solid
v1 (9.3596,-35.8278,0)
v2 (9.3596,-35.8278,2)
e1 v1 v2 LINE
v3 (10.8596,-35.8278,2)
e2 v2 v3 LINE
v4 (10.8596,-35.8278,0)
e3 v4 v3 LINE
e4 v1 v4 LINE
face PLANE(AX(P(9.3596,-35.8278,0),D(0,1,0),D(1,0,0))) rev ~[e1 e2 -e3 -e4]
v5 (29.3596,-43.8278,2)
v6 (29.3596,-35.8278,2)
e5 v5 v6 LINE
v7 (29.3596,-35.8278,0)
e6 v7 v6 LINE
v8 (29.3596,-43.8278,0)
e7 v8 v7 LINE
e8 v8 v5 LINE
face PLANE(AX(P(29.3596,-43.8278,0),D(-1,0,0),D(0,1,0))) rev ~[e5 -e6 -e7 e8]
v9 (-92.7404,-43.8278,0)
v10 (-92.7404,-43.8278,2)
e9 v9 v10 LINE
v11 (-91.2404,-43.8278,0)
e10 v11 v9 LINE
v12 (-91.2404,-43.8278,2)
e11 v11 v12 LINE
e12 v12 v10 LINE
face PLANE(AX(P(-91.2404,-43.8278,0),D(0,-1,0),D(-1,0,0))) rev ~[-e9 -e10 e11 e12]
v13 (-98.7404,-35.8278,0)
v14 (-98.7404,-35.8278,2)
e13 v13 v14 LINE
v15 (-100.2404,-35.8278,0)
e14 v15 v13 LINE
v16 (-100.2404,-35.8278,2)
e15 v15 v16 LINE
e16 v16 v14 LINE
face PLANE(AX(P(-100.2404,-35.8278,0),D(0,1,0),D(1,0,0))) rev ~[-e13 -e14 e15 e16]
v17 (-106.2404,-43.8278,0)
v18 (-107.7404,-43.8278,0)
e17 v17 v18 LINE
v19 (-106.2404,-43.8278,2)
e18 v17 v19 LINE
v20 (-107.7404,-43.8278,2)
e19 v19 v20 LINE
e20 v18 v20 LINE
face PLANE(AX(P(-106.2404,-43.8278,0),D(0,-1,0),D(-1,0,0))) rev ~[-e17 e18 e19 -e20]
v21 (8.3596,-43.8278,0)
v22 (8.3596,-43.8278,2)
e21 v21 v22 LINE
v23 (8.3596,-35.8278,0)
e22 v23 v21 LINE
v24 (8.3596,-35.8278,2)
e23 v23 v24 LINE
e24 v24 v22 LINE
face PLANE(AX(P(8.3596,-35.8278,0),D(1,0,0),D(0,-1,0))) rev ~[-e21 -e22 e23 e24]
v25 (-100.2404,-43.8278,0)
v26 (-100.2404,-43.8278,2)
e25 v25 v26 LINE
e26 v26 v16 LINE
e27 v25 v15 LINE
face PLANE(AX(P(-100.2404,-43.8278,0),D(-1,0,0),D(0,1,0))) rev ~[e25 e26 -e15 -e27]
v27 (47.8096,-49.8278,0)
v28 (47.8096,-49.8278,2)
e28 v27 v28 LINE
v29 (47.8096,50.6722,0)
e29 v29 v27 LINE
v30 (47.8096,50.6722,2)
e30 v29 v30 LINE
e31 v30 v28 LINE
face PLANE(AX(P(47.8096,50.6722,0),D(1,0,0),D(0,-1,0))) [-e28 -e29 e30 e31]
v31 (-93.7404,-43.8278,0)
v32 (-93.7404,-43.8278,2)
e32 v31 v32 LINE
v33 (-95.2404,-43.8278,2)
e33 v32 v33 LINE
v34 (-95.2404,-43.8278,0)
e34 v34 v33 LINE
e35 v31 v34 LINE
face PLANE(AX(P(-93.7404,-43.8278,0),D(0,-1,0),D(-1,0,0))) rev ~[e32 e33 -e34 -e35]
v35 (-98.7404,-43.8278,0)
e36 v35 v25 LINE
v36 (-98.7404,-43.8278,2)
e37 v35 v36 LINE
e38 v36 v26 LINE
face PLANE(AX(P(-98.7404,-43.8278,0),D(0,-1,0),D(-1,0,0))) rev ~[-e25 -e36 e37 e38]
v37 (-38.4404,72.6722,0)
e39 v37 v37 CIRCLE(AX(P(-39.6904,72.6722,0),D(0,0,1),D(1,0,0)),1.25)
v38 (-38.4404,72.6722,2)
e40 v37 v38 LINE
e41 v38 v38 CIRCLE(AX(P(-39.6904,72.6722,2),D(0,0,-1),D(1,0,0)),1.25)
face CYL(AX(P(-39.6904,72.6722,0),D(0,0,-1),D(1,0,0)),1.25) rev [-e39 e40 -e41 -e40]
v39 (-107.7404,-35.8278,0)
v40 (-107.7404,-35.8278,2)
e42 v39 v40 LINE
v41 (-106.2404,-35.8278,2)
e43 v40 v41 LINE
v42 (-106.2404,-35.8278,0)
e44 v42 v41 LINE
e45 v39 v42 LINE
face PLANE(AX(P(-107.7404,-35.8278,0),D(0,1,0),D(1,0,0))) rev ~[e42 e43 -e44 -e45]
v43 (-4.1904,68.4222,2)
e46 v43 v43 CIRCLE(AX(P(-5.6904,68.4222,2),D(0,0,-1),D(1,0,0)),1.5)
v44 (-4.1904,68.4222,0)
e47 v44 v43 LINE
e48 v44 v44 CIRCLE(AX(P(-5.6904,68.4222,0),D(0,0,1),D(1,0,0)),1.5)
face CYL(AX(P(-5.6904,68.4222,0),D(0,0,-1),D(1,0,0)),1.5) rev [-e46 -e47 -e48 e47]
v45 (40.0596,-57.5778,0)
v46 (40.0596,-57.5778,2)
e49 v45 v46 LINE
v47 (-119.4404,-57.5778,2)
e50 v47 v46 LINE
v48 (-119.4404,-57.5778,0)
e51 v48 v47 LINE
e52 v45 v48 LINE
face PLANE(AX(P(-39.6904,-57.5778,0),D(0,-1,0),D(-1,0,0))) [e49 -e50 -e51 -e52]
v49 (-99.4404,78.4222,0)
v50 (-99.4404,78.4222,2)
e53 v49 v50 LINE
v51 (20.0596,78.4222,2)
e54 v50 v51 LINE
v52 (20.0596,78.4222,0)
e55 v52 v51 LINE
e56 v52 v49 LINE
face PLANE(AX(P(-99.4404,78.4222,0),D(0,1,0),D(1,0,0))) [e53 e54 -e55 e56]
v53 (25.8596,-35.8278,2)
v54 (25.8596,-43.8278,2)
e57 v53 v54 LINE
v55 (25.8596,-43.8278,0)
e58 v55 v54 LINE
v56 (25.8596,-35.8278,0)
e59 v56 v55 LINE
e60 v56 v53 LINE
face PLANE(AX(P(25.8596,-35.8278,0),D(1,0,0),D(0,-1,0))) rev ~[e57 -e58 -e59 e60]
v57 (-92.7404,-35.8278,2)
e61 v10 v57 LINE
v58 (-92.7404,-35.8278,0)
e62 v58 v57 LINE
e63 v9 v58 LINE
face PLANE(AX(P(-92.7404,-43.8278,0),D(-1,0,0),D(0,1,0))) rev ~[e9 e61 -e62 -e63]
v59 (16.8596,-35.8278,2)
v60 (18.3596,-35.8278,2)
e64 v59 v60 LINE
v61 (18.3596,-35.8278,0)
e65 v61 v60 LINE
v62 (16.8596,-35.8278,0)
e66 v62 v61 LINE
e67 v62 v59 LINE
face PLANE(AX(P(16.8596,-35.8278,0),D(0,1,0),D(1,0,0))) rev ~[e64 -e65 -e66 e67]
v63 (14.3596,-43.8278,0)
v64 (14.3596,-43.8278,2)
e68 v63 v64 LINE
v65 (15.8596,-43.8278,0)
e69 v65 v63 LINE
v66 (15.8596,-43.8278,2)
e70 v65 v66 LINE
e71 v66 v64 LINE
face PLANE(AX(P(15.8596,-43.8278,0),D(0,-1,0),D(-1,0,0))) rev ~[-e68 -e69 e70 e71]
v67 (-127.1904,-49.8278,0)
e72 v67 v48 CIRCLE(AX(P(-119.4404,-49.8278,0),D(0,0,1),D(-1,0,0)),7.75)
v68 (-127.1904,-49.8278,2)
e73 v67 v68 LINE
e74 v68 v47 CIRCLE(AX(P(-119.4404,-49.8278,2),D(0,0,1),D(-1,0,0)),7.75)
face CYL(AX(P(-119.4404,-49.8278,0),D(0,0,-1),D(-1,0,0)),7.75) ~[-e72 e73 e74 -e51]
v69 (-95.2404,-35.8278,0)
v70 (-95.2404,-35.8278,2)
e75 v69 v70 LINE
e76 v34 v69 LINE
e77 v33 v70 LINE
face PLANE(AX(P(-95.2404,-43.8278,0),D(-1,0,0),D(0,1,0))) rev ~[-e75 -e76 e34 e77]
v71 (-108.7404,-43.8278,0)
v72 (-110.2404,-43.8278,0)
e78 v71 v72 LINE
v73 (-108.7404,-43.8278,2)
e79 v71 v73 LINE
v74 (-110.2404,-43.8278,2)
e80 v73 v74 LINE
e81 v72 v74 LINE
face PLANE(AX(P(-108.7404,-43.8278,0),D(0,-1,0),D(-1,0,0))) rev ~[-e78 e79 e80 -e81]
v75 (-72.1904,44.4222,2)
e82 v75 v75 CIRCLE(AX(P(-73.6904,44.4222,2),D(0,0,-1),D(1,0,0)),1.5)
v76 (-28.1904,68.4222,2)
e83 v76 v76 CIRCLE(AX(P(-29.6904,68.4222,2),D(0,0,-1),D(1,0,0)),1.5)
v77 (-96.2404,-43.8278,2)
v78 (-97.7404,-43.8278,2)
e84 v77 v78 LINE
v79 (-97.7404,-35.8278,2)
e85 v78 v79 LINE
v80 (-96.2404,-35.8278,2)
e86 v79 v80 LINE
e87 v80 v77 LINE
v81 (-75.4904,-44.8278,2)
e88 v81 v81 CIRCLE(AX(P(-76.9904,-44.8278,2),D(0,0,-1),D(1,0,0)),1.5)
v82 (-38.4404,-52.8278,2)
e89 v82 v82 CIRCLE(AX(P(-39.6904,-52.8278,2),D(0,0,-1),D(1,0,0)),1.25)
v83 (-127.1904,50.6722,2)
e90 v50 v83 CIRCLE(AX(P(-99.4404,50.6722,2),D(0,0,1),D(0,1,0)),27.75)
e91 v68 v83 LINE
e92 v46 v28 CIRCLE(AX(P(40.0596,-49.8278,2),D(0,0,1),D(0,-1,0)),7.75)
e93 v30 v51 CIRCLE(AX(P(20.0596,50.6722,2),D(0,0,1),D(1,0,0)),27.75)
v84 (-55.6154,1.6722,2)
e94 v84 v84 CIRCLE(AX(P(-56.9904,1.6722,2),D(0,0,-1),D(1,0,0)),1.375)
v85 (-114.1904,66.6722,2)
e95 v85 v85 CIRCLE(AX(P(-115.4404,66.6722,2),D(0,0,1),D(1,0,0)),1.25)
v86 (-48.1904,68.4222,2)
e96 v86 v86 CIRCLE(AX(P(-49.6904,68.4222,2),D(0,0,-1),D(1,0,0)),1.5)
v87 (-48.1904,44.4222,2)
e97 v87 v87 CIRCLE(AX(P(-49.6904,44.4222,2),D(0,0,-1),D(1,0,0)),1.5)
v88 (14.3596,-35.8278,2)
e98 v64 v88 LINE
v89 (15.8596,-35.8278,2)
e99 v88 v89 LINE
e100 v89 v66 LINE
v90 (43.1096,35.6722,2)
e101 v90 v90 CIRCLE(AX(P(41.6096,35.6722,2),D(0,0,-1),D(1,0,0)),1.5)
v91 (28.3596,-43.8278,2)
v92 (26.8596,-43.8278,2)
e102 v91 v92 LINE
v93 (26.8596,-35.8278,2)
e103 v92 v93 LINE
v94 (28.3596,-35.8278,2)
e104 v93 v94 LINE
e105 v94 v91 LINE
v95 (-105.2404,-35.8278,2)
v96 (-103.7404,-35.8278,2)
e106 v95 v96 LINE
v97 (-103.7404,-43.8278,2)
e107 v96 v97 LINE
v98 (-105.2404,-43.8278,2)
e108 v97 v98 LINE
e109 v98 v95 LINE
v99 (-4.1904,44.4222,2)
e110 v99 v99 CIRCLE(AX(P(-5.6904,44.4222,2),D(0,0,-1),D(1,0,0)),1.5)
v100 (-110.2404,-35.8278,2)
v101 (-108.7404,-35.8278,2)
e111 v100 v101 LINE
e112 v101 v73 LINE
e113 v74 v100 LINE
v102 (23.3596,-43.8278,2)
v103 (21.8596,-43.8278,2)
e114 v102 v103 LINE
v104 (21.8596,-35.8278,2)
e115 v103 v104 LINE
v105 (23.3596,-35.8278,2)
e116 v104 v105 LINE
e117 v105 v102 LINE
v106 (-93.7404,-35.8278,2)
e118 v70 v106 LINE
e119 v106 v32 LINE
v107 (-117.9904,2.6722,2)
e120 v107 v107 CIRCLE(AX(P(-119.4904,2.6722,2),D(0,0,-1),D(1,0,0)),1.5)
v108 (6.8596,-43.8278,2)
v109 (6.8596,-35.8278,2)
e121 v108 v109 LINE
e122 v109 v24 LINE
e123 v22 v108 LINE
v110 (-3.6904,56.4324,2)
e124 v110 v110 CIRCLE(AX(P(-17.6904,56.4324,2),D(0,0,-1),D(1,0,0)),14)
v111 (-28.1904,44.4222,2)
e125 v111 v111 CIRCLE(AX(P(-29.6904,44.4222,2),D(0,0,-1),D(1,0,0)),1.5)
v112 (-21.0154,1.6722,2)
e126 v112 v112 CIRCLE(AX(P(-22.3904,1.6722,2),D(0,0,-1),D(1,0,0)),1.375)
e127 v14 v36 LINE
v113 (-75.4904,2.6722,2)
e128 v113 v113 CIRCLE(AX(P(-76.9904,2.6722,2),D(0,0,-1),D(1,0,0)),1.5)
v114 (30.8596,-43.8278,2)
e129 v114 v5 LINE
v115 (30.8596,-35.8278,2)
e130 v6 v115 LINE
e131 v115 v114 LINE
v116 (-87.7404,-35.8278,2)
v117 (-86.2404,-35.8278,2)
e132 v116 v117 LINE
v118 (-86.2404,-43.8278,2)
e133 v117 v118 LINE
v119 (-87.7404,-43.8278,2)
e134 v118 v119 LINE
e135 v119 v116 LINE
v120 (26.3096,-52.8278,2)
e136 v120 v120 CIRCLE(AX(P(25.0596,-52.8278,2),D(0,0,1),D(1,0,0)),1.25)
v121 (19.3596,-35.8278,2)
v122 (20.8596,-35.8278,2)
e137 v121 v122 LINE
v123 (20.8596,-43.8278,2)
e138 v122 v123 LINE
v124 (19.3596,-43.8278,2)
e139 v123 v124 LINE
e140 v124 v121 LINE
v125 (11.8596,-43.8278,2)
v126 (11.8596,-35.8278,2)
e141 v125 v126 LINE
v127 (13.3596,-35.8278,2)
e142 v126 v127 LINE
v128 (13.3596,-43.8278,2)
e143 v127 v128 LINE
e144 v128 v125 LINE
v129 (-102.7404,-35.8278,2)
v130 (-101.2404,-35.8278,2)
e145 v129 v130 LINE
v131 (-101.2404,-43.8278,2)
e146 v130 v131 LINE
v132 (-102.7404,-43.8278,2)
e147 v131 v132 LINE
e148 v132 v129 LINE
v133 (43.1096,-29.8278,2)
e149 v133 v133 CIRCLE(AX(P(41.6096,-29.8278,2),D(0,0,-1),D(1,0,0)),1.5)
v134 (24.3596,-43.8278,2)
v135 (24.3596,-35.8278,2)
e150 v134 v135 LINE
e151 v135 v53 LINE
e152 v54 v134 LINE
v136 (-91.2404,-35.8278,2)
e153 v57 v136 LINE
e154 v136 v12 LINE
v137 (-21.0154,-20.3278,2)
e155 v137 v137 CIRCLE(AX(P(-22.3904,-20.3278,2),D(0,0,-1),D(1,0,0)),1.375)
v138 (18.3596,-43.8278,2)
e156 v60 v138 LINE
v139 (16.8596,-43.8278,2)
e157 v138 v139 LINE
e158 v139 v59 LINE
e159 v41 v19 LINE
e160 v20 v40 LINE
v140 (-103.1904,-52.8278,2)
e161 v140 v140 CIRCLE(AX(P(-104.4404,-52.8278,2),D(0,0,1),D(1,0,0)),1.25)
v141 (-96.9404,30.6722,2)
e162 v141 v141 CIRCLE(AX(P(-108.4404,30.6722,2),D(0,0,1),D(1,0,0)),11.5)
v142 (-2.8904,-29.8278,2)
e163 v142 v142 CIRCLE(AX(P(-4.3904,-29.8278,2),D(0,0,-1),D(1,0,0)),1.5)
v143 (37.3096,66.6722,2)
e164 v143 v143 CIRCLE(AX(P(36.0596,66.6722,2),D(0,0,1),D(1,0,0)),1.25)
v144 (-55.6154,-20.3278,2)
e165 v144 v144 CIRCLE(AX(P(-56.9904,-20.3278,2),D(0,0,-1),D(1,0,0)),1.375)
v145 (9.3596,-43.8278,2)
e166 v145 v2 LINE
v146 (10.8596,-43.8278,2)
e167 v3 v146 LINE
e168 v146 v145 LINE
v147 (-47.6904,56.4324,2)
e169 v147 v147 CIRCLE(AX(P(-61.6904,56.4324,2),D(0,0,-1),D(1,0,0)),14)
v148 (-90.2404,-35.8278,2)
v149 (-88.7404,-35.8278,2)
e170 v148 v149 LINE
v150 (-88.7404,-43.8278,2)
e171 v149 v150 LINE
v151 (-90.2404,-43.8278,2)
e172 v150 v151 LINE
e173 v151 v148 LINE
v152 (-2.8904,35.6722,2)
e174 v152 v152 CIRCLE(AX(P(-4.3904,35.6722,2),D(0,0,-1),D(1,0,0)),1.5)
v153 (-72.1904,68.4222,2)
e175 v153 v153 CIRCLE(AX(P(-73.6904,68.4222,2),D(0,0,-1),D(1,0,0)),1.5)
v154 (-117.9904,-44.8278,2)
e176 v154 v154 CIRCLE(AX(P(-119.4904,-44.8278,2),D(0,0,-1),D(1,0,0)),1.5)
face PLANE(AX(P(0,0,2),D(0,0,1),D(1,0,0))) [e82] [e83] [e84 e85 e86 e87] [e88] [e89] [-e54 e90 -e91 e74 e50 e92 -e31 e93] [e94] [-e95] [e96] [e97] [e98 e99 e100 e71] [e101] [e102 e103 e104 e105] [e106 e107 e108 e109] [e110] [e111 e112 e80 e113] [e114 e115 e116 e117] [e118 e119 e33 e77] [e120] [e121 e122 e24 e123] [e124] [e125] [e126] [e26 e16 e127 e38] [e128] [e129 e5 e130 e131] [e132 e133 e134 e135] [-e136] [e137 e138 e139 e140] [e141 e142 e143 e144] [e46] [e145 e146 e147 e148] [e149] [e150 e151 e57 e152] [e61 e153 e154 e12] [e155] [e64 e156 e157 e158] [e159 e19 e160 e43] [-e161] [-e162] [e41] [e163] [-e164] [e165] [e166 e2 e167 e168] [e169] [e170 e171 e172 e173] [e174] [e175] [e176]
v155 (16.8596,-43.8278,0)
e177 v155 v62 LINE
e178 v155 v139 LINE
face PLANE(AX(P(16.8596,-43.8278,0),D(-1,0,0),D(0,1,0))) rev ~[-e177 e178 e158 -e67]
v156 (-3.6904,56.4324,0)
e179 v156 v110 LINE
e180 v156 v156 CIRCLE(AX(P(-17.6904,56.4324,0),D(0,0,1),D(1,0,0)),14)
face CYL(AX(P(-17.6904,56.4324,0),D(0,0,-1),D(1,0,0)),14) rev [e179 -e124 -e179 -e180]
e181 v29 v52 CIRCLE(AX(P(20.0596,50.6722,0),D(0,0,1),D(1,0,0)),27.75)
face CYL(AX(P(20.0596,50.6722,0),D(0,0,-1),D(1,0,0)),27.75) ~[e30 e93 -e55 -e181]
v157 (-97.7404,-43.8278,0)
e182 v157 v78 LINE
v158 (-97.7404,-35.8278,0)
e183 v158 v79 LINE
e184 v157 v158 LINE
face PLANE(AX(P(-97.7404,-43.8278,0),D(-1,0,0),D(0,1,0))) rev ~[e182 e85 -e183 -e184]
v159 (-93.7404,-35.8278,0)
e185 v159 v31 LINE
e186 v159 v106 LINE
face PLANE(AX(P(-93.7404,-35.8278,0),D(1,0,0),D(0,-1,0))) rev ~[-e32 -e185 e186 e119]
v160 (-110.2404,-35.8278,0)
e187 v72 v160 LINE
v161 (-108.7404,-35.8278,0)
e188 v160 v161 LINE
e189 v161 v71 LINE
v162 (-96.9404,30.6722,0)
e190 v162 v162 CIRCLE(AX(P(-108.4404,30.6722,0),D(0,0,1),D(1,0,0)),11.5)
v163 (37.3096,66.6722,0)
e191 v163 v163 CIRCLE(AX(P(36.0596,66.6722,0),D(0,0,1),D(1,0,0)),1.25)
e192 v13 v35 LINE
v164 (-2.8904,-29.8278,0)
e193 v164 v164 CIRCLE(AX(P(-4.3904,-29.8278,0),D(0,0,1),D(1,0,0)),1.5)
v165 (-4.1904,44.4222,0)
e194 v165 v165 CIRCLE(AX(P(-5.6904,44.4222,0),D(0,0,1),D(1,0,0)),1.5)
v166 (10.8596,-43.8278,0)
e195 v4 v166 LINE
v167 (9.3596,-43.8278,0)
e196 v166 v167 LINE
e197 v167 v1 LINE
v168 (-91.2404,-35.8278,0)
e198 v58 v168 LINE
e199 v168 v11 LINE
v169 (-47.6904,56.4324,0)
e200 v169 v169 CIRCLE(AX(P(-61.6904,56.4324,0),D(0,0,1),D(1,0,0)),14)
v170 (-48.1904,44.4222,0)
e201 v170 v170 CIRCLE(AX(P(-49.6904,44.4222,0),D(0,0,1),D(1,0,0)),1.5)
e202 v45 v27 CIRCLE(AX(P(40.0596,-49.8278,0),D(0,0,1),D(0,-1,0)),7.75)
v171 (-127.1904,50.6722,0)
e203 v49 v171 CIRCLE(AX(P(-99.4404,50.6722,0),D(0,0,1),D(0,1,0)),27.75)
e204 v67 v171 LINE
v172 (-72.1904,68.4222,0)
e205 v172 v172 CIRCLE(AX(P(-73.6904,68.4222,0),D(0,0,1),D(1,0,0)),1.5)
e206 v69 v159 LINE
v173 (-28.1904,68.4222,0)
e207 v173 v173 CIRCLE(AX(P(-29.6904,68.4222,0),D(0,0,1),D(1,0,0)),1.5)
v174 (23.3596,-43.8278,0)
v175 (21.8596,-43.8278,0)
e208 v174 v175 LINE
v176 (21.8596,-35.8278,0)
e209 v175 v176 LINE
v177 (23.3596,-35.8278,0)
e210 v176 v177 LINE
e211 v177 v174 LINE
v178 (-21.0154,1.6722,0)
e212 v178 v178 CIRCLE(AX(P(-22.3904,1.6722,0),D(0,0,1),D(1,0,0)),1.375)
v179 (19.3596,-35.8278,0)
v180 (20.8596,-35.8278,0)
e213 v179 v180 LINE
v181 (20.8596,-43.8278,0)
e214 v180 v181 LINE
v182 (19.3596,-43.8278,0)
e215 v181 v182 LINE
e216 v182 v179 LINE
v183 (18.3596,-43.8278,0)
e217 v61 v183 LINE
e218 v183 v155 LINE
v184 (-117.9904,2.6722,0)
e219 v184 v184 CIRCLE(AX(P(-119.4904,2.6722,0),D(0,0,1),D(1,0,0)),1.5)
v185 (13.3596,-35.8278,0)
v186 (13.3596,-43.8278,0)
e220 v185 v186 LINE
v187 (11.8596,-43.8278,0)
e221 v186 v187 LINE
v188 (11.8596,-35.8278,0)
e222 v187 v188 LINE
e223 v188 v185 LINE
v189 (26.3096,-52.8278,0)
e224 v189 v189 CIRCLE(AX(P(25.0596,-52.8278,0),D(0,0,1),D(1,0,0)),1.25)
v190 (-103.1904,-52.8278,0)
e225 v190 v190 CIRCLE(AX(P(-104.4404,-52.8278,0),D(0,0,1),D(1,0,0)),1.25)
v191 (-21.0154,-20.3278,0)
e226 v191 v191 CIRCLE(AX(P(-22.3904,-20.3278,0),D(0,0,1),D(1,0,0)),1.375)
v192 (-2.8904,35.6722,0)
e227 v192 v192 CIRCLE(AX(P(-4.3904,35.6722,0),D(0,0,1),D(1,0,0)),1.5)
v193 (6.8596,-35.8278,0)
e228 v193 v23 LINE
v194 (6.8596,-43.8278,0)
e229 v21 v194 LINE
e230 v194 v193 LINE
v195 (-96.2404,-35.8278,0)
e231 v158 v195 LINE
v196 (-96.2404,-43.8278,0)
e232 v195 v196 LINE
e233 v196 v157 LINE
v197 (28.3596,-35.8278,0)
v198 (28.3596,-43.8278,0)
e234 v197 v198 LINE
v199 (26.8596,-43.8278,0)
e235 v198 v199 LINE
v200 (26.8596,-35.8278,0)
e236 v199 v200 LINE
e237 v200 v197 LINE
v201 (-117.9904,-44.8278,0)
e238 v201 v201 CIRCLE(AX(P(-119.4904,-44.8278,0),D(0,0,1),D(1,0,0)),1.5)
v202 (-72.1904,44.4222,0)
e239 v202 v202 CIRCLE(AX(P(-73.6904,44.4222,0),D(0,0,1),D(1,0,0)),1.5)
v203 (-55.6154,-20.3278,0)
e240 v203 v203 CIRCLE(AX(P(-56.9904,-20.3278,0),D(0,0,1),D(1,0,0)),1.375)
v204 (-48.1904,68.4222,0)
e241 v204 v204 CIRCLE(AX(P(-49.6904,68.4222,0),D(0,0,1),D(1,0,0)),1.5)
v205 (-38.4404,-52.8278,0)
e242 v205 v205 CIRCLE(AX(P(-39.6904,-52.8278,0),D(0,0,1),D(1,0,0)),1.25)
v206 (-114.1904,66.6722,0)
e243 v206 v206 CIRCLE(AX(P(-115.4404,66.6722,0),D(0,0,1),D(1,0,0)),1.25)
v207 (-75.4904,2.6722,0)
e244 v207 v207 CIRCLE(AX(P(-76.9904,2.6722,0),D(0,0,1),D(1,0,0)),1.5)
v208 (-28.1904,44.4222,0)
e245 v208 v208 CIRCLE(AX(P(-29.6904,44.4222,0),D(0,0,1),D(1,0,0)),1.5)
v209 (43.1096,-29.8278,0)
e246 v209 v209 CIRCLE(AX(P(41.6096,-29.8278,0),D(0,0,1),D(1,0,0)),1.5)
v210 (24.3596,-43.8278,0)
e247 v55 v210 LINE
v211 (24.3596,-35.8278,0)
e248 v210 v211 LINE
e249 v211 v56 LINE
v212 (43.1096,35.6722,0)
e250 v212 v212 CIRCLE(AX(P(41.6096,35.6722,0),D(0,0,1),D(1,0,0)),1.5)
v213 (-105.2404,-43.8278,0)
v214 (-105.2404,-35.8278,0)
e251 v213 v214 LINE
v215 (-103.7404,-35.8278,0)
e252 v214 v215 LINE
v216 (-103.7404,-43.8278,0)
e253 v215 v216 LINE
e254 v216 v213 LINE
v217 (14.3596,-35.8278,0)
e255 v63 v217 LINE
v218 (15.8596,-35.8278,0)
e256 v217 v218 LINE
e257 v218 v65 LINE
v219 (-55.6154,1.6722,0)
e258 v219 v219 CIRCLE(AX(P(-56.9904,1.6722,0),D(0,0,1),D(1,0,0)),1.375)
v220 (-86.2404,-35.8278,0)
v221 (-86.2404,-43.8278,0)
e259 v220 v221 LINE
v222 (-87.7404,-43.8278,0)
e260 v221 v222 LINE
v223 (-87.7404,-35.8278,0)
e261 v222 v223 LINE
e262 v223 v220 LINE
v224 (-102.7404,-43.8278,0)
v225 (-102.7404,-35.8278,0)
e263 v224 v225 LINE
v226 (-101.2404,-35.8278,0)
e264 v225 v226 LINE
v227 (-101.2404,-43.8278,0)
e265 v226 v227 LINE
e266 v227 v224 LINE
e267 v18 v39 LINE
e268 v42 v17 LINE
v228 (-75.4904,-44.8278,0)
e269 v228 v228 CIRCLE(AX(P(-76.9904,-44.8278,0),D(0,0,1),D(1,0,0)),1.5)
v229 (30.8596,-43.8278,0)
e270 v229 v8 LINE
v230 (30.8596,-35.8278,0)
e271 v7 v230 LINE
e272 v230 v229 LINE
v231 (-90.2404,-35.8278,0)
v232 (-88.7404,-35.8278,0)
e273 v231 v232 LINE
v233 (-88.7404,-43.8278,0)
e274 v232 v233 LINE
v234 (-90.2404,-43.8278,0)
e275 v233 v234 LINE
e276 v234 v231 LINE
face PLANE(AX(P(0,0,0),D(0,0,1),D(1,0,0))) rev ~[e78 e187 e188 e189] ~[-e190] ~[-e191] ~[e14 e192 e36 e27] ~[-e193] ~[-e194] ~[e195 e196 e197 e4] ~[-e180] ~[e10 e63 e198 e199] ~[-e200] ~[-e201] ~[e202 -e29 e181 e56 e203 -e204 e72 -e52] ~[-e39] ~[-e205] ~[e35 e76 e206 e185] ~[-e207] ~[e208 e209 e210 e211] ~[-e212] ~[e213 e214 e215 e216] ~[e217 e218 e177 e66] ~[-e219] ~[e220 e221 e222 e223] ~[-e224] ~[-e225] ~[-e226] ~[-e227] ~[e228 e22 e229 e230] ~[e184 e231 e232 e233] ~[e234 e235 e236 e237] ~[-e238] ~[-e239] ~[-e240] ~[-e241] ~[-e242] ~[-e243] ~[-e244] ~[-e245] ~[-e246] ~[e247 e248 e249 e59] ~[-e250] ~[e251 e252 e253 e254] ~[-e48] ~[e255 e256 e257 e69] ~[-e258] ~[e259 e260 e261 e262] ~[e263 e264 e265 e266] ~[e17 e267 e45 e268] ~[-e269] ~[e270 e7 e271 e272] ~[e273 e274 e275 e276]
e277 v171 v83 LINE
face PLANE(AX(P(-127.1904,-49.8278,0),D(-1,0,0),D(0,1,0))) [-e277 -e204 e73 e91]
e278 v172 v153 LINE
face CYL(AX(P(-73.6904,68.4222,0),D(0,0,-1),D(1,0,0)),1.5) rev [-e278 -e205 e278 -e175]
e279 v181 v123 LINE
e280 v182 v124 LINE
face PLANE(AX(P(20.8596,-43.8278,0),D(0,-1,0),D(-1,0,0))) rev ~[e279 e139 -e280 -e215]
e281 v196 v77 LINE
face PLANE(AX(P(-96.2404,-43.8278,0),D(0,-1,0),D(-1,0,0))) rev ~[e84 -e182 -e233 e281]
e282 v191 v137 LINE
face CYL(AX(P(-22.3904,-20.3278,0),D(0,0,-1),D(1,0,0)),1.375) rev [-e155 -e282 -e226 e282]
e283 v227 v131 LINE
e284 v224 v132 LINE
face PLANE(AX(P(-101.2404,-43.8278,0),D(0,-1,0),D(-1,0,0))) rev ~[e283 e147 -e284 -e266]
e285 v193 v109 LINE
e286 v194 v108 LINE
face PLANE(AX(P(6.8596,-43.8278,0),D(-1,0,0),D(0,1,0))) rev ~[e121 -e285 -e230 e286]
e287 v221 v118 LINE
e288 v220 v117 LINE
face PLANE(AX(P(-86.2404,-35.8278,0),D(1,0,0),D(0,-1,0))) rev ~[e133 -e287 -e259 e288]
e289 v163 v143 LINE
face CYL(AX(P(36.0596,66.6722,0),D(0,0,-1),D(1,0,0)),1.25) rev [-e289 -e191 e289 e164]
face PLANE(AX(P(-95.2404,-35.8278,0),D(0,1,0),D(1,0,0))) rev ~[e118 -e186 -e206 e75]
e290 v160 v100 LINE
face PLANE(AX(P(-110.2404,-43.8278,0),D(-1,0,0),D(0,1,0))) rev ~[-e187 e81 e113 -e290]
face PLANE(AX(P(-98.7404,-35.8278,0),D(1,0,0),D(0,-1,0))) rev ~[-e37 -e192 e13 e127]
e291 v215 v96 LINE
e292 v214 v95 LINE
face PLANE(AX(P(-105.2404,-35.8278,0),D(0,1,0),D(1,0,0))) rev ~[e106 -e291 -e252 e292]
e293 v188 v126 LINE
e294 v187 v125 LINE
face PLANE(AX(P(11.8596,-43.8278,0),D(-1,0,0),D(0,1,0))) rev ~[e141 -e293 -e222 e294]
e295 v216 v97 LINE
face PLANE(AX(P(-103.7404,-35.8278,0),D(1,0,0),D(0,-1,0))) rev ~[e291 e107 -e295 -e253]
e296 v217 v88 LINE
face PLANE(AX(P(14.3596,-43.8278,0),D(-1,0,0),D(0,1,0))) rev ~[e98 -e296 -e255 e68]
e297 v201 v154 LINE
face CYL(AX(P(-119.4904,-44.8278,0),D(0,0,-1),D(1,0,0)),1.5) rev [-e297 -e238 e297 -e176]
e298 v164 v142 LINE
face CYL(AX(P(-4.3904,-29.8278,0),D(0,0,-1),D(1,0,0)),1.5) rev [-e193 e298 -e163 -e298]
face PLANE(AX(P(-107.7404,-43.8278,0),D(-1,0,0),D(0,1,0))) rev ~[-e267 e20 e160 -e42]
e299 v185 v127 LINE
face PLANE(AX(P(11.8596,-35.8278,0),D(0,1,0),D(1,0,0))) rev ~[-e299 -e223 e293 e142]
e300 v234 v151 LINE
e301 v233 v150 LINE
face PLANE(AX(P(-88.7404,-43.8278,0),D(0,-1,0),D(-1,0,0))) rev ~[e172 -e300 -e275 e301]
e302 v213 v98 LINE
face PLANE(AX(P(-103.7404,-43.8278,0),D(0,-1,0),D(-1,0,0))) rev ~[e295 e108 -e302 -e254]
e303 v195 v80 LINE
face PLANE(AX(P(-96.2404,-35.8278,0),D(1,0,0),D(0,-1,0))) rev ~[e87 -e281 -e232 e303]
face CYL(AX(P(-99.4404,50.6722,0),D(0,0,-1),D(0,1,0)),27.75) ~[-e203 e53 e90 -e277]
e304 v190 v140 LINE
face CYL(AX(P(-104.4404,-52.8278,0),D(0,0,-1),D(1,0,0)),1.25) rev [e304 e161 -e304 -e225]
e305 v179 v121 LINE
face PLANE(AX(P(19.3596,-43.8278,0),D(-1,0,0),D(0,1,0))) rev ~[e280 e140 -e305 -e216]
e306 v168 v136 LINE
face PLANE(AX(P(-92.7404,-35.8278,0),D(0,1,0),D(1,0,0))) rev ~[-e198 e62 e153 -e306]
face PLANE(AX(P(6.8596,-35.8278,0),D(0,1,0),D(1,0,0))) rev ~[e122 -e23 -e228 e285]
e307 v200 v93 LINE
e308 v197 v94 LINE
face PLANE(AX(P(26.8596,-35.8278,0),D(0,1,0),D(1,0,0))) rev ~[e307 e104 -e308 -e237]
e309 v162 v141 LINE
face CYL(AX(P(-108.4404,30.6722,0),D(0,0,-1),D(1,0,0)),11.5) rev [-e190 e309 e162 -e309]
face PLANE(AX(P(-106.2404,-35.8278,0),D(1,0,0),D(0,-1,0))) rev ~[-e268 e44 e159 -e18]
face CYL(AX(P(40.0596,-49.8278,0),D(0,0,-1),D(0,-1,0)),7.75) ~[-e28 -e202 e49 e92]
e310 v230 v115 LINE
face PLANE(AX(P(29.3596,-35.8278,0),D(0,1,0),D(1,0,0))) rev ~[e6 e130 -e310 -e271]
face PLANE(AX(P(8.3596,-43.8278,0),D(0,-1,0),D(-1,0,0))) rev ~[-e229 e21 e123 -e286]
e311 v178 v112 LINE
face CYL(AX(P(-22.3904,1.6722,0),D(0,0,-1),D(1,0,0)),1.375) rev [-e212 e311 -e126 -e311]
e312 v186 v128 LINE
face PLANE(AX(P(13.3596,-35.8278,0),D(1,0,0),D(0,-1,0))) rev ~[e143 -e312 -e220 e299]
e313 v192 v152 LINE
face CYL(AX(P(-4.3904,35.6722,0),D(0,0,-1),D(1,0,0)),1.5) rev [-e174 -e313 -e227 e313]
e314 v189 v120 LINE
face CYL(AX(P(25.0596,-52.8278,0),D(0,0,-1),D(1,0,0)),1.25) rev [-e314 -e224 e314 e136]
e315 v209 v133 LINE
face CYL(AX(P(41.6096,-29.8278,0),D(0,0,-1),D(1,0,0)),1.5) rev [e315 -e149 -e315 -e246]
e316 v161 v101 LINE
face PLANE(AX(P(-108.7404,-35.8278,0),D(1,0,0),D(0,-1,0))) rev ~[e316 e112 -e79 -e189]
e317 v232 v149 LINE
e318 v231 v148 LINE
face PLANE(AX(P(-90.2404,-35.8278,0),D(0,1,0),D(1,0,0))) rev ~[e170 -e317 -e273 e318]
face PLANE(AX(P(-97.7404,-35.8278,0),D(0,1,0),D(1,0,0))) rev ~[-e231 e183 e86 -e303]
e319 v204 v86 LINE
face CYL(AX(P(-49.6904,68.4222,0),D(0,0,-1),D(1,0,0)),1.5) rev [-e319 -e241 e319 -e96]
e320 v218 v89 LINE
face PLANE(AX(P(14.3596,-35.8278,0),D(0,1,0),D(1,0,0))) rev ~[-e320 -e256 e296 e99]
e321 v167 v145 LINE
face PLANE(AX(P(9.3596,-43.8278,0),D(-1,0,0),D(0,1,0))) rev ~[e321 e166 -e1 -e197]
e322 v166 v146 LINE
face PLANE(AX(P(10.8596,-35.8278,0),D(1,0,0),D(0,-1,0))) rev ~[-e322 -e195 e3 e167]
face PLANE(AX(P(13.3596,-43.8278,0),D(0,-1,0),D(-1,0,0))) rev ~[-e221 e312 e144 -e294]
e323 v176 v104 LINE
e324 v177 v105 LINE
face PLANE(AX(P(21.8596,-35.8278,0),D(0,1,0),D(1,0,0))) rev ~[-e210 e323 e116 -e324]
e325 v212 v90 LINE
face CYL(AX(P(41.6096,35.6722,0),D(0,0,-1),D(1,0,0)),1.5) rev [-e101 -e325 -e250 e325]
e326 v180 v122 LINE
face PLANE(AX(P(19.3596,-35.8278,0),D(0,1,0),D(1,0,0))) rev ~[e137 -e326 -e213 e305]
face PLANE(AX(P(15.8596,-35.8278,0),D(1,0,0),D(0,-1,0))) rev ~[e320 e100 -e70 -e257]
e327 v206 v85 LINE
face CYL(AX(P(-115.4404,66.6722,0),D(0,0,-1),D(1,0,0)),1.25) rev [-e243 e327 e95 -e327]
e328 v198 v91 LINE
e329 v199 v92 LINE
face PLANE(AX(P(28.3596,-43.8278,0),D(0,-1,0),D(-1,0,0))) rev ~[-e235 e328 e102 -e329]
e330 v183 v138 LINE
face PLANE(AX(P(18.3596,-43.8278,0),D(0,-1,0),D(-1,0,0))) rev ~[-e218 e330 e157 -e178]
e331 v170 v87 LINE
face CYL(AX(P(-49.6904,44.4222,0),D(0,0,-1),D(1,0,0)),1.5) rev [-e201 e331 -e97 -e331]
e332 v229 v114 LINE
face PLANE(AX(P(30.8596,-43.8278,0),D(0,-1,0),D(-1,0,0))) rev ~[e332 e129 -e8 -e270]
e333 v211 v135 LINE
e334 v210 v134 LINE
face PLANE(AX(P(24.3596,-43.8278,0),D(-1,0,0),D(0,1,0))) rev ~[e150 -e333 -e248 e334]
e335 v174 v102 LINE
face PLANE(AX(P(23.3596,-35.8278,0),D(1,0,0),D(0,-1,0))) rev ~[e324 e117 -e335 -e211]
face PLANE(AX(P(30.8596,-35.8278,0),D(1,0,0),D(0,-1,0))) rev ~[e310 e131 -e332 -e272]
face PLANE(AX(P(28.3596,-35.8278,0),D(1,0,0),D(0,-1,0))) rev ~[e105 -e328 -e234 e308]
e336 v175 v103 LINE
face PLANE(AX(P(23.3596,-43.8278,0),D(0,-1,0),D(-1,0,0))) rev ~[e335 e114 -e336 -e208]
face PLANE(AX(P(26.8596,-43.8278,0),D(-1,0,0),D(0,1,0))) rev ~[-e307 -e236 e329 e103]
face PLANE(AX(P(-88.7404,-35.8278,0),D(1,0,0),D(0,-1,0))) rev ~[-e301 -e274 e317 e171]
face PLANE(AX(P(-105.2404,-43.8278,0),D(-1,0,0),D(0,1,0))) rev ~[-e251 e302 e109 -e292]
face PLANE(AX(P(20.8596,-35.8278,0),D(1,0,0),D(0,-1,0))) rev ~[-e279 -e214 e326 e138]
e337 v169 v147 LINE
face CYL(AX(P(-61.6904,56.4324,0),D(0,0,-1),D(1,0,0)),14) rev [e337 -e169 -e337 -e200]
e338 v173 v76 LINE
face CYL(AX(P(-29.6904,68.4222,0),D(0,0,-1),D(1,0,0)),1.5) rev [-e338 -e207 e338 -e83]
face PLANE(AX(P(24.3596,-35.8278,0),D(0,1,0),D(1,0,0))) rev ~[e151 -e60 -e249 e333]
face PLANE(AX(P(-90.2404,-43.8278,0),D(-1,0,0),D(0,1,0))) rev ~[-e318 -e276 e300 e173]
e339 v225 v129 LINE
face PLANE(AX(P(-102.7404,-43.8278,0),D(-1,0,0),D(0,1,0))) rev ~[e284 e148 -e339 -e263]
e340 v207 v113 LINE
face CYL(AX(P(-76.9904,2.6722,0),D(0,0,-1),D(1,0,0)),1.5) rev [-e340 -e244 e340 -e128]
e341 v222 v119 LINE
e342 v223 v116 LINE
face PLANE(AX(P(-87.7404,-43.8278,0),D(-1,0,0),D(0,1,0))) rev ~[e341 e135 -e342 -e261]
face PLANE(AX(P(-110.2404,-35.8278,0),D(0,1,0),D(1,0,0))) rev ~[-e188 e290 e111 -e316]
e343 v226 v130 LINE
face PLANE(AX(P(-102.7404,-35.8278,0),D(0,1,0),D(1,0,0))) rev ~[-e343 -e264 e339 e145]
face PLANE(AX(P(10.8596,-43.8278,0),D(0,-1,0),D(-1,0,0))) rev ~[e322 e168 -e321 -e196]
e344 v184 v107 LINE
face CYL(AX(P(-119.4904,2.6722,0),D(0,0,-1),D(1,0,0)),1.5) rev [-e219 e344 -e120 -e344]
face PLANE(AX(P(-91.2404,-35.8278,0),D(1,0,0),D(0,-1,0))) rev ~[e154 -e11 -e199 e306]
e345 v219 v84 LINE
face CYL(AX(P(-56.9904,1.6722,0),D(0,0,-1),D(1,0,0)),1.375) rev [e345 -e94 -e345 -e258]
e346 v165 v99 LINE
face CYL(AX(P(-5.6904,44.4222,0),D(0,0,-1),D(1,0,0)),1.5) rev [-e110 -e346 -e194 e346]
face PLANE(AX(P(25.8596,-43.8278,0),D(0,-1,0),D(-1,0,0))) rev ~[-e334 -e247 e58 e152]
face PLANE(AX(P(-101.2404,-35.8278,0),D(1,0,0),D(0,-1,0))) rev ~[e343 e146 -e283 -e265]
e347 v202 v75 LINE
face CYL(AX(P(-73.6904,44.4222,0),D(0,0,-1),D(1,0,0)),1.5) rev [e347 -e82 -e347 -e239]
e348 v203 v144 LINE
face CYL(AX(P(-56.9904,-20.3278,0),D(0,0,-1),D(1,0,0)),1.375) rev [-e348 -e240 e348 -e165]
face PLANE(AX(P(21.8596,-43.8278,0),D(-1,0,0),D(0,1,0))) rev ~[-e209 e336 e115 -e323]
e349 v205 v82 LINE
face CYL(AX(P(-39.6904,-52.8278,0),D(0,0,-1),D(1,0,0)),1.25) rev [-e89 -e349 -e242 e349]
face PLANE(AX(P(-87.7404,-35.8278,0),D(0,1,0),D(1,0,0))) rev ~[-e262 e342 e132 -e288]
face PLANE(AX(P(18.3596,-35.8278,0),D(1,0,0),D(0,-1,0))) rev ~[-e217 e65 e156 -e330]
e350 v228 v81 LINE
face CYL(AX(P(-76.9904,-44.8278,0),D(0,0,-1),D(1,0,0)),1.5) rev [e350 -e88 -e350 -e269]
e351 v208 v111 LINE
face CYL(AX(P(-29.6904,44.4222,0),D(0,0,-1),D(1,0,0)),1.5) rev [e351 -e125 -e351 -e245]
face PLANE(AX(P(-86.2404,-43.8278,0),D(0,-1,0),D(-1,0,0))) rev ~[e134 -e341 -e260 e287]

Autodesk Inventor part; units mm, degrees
ref_plane "YZ Plane" through (0, 0, 0) normal (1, 0, 0) x (0, 1, 0)
ref_plane "XZ Plane" through (0, 0, 0) normal (0, 1, 0) x (-1, 0, 0)
ref_plane "XY Plane" through (0, 0, 0) normal (0, 0, 1) x (1, 0, 0)
sketch "Sketch1" plane through (0, 0, 0) normal (0, 0, 1) x (1, 0, 0)
  line L0 (-119.4404, -59.8278) -> (40.0596, -59.8278)
  line L1 (50.0596, -49.8278) -> (50.0596, 50.6722)
  line L2 (20.0596, 80.6722) -> (-99.4404, 80.6722)
  line L3 (-129.4404, 50.6722) -> (-129.4404, -49.8278)
  arc A0 (50.0596, 50.6722) -> (20.0596, 80.6722) centre (20.0596, 50.6722) ccw
  arc A1 (-99.4404, 80.6722) -> (-129.4404, 50.6722) centre (-99.4404, 50.6722) ccw
  arc A2 (40.0596, -59.8278) -> (50.0596, -49.8278) centre (40.0596, -49.8278) ccw
  arc A3 (-129.4404, -49.8278) -> (-119.4404, -59.8278) centre (-119.4404, -49.8278) ccw
  line L4 (-99.4404, 78.4222) -> (20.0596, 78.4222)
  arc A4 (47.8096, 50.6722) -> (20.0596, 78.4222) centre (20.0596, 50.6722) ccw
  line L5 (47.8096, 50.6722) -> (47.8096, -49.8278)
  arc A5 (40.0596, -57.5778) -> (47.8096, -49.8278) centre (40.0596, -49.8278) ccw
  line L6 (40.0596, -57.5778) -> (-119.4404, -57.5778)
  arc A6 (-127.1904, -49.8278) -> (-119.4404, -57.5778) centre (-119.4404, -49.8278) ccw
  line L7 (-127.1904, -49.8278) -> (-127.1904, 50.6722)
  arc A7 (-99.4404, 78.4222) -> (-127.1904, 50.6722) centre (-99.4404, 50.6722) ccw
  circle A8 centre (36.0596, 66.6722) radius 1.25
  circle A9 centre (-115.4404, 66.6722) radius 1.25
  circle A10 centre (-104.4404, -52.8278) radius 1.25
  circle A11 centre (25.0596, -52.8278) radius 1.25
  circle A12 centre (-39.6904, -52.8278) radius 1.25
  line L8 (-56.9904, 1.6722) -> (-22.3904, 1.6722)
  line L9 (-22.3904, 1.6722) -> (-22.3904, -20.3278)
  line L10 (-22.3904, -20.3278) -> (-56.9904, -20.3278)
  line L11 (-56.9904, -20.3278) -> (-56.9904, 1.6722)
  circle A13 centre (-22.3904, 1.6722) radius 1.375
  circle A14 centre (-56.9904, 1.6722) radius 1.375
  circle A15 centre (-56.9904, -20.3278) radius 1.375
  circle A16 centre (-22.3904, -20.3278) radius 1.375
  line L12 (-119.4904, 2.6722) -> (-76.9904, 2.6722)
  line L13 (-76.9904, 2.6722) -> (-76.9904, -44.8278)
  line L14 (-76.9904, -44.8278) -> (-119.4904, -44.8278)
  line L15 (-119.4904, -44.8278) -> (-119.4904, 2.6722)
  circle A17 centre (-76.9904, 2.6722) radius 1.5
  circle A18 centre (-119.4904, 2.6722) radius 1.5
  circle A19 centre (-119.4904, -44.8278) radius 1.5
  circle A20 centre (-76.9904, -44.8278) radius 1.5
  line L16 (-4.3904, 35.6722) -> (41.6096, 35.6722)
  line L17 (41.6096, 35.6722) -> (41.6096, -29.8278)
  line L18 (41.6096, -29.8278) -> (-4.3904, -29.8278)
  line L19 (-4.3904, -29.8278) -> (-4.3904, 35.6722)
  circle A21 centre (-4.3904, 35.6722) radius 1.5
  circle A22 centre (41.6096, 35.6722) radius 1.5
  circle A23 centre (-4.3904, -29.8278) radius 1.5
  circle A24 centre (41.6096, -29.8278) radius 1.5
  circle A25 centre (-108.4404, 30.6722) radius 11.5
  line L20 (-73.6904, 68.4222) -> (-49.6904, 68.4222)
  line L21 (-49.6904, 68.4222) -> (-49.6904, 44.4222)
  line L22 (-49.6904, 44.4222) -> (-73.6904, 44.4222)
  line L23 (-73.6904, 44.4222) -> (-73.6904, 68.4222)
  line L24 (-29.6904, 68.4222) -> (-5.6904, 68.4222)
  line L25 (-5.6904, 68.4222) -> (-5.6904, 44.4222)
  line L26 (-5.6904, 44.4222) -> (-29.6904, 44.4222)
  line L27 (-29.6904, 44.4222) -> (-29.6904, 68.4222)
  circle A26 centre (-73.6904, 68.4222) radius 1.5
  circle A27 centre (-49.6904, 68.4222) radius 1.5
  circle A28 centre (-73.6904, 44.4222) radius 1.5
  circle A29 centre (-49.6904, 44.4222) radius 1.5
  circle A30 centre (-29.6904, 68.4222) radius 1.5
  circle A31 centre (-5.6904, 68.4222) radius 1.5
  circle A32 centre (-29.6904, 44.4222) radius 1.5
  circle A33 centre (-5.6904, 44.4222) radius 1.5
  line L28 (-39.6904, 78.4222) -> (-39.6904, -57.5778)
  circle A34 centre (-61.6904, 56.4324) radius 14
  circle A35 centre (-17.6904, 56.4324) radius 14
  line L29 (-110.2404, -35.8278) -> (-108.7404, -35.8278)
  line L30 (-108.7404, -35.8278) -> (-108.7404, -43.8278)
  line L31 (-108.7404, -43.8278) -> (-110.2404, -43.8278)
  line L32 (-110.2404, -43.8278) -> (-110.2404, -35.8278)
  line L33 (-107.7404, -35.8278) -> (-106.2404, -35.8278)
  line L34 (-106.2404, -35.8278) -> (-106.2404, -43.8278)
  line L35 (-106.2404, -43.8278) -> (-107.7404, -43.8278)
  line L36 (-107.7404, -43.8278) -> (-107.7404, -35.8278)
  line L37 (-105.2404, -35.8278) -> (-103.7404, -35.8278)
  line L38 (-103.7404, -35.8278) -> (-103.7404, -43.8278)
  line L39 (-103.7404, -43.8278) -> (-105.2404, -43.8278)
  line L40 (-105.2404, -43.8278) -> (-105.2404, -35.8278)
  line L41 (-102.7404, -35.8278) -> (-101.2404, -35.8278)
  line L42 (-101.2404, -35.8278) -> (-101.2404, -43.8278)
  line L43 (-101.2404, -43.8278) -> (-102.7404, -43.8278)
  line L44 (-102.7404, -43.8278) -> (-102.7404, -35.8278)
  line L45 (-100.2404, -35.8278) -> (-98.7404, -35.8278)
  line L46 (-98.7404, -35.8278) -> (-98.7404, -43.8278)
  line L47 (-98.7404, -43.8278) -> (-100.2404, -43.8278)
  line L48 (-100.2404, -43.8278) -> (-100.2404, -35.8278)
  line L49 (-97.7404, -35.8278) -> (-96.2404, -35.8278)
  line L50 (-96.2404, -35.8278) -> (-96.2404, -43.8278)
  line L51 (-96.2404, -43.8278) -> (-97.7404, -43.8278)
  line L52 (-97.7404, -43.8278) -> (-97.7404, -35.8278)
  line L53 (-95.2404, -35.8278) -> (-93.7404, -35.8278)
  line L54 (-93.7404, -35.8278) -> (-93.7404, -43.8278)
  line L55 (-93.7404, -43.8278) -> (-95.2404, -43.8278)
  line L56 (-95.2404, -43.8278) -> (-95.2404, -35.8278)
  line L57 (-92.7404, -35.8278) -> (-91.2404, -35.8278)
  line L58 (-91.2404, -35.8278) -> (-91.2404, -43.8278)
  line L59 (-91.2404, -43.8278) -> (-92.7404, -43.8278)
  line L60 (-92.7404, -43.8278) -> (-92.7404, -35.8278)
  line L61 (-90.2404, -35.8278) -> (-88.7404, -35.8278)
  line L62 (-88.7404, -35.8278) -> (-88.7404, -43.8278)
  line L63 (-88.7404, -43.8278) -> (-90.2404, -43.8278)
  line L64 (-90.2404, -43.8278) -> (-90.2404, -35.8278)
  line L65 (-87.7404, -35.8278) -> (-86.2404, -35.8278)
  line L66 (-86.2404, -35.8278) -> (-86.2404, -43.8278)
  line L67 (-86.2404, -43.8278) -> (-87.7404, -43.8278)
  line L68 (-87.7404, -43.8278) -> (-87.7404, -35.8278)
  line L69 (6.8596, -35.8278) -> (8.3596, -35.8278)
  line L70 (8.3596, -35.8278) -> (8.3596, -43.8278)
  line L71 (8.3596, -43.8278) -> (6.8596, -43.8278)
  line L72 (6.8596, -43.8278) -> (6.8596, -35.8278)
  line L73 (9.3596, -43.8278) -> (9.3596, -35.8278)
  line L74 (10.8596, -43.8278) -> (9.3596, -43.8278)
  line L75 (10.8596, -35.8278) -> (10.8596, -43.8278)
  line L76 (9.3596, -35.8278) -> (10.8596, -35.8278)
  line L77 (11.8596, -43.8278) -> (11.8596, -35.8278)
  line L78 (13.3596, -43.8278) -> (11.8596, -43.8278)
  line L79 (13.3596, -35.8278) -> (13.3596, -43.8278)
  line L80 (11.8596, -35.8278) -> (13.3596, -35.8278)
  line L81 (14.3596, -43.8278) -> (14.3596, -35.8278)
  line L82 (15.8596, -43.8278) -> (14.3596, -43.8278)
  line L83 (15.8596, -35.8278) -> (15.8596, -43.8278)
  line L84 (14.3596, -35.8278) -> (15.8596, -35.8278)
  line L85 (16.8596, -43.8278) -> (16.8596, -35.8278)
  line L86 (18.3596, -43.8278) -> (16.8596, -43.8278)
  line L87 (18.3596, -35.8278) -> (18.3596, -43.8278)
  line L88 (16.8596, -35.8278) -> (18.3596, -35.8278)
  line L89 (19.3596, -43.8278) -> (19.3596, -35.8278)
  line L90 (20.8596, -43.8278) -> (19.3596, -43.8278)
  line L91 (20.8596, -35.8278) -> (20.8596, -43.8278)
  line L92 (19.3596, -35.8278) -> (20.8596, -35.8278)
  line L93 (21.8596, -43.8278) -> (21.8596, -35.8278)
  line L94 (23.3596, -43.8278) -> (21.8596, -43.8278)
  line L95 (23.3596, -35.8278) -> (23.3596, -43.8278)
  line L96 (21.8596, -35.8278) -> (23.3596, -35.8278)
  line L97 (24.3596, -43.8278) -> (24.3596, -35.8278)
  line L98 (25.8596, -43.8278) -> (24.3596, -43.8278)
  line L99 (25.8596, -35.8278) -> (25.8596, -43.8278)
  line L100 (24.3596, -35.8278) -> (25.8596, -35.8278)
  line L101 (26.8596, -43.8278) -> (26.8596, -35.8278)
  line L102 (28.3596, -43.8278) -> (26.8596, -43.8278)
  line L103 (28.3596, -35.8278) -> (28.3596, -43.8278)
  line L104 (26.8596, -35.8278) -> (28.3596, -35.8278)
  line L105 (29.3596, -43.8278) -> (29.3596, -35.8278)
  line L106 (30.8596, -43.8278) -> (29.3596, -43.8278)
  line L107 (30.8596, -35.8278) -> (30.8596, -43.8278)
  line L108 (29.3596, -35.8278) -> (30.8596, -35.8278)
  circle A36 centre (-39.6904, 72.6722) radius 1.25
  point P0 (0, 0)
  point P1 (-129.4404, -59.8278)
  point P2 (50.0596, 0.4222)
  point P3 (-89.4904, -43.8278)
  point P4 (30.8596, -39.8278)
  dimension "d0" = 179.5
  dimension "d1" = 140.5
  dimension "d2" = 30
  dimension "d3" = 10
  dimension "d4" = 2.25
  dimension "d5" = 2.5
  dimension "d6" = 2.5
  dimension "d7" = 2.5
  dimension "d8" = 2.5
  dimension "d9" = 14
  dimension "d10" = 14
  dimension "d11" = 14
  dimension "d12" = 25
  dimension "d13" = 7
  dimension "d14" = 7
  dimension "d15" = 25
  dimension "d16" = 14
  dimension "d17" = 2.5
  dimension "d18" = 7
  dimension "d19" = 89.75
  dimension "d20" = 34.6
  dimension "d21" = 22
  dimension "d22" = 2.75
  dimension "d23" = 2.75
  dimension "d24" = 2.75
  dimension "d25" = 2.75
  dimension "d26" = 72.45
  dimension "d27" = 39.5
  dimension "d28" = 42.5
  dimension "d29" = 47.5
  dimension "d30" = 3
  dimension "d31" = 3
  dimension "d32" = 3
  dimension "d33" = 3
  dimension "d34" = 20
  dimension "d35" = 15
  dimension "d36" = 46
  dimension "d37" = 65.5
  dimension "d38" = 18
  dimension "d39" = 30
  dimension "d40" = 3
  dimension "d41" = 3
  dimension "d42" = 3
  dimension "d43" = 3
  dimension "d44" = 23
  dimension "d45" = 21
  dimension "d46" = 50
  dimension "d49" = 24
  dimension "d50" = 24
  dimension "d51" = 24
  dimension "d52" = 24
  dimension "d53" = 3
  dimension "d54" = 3
  dimension "d55" = 3
  dimension "d56" = 3
  dimension "d57" = 3
  dimension "d58" = 3
  dimension "d59" = 3
  dimension "d60" = 3
  dimension "d61" = 179.5
  dimension "d62" = 10
  dimension "d63" = 20
  dimension "d64" = 20
  dimension "d65" = 28
extrude "Extrusion1" add sketch "Sketch1" along normal blind 2 contours L4 L28 A36 L8 A14 L11 A15 L10 A12 L6 A6 L7 A7 | L4 A4 L5 A5 L6 L28 A12 L10 A16 L9 A13 L8 A36 | L28 L10 A15 L11 A14 L8 | L8 A13 L9 A16 L10 L28 | L12 A17 L13 A20 L14 A19 L15 A18 | L16 A22 L17 A24 L18 A23 L19 A21 | L20 A34 L23 A26 | L20 A27 L21 A34 | A34 L22 A28 L23 | L21 A29 L22 A34 | L24 A35 L27 A30 | L24 A31 L25 A35 | A35 L26 A32 L27 | L25 A33 L26 A35
properties part number "Back_Cover_2"
